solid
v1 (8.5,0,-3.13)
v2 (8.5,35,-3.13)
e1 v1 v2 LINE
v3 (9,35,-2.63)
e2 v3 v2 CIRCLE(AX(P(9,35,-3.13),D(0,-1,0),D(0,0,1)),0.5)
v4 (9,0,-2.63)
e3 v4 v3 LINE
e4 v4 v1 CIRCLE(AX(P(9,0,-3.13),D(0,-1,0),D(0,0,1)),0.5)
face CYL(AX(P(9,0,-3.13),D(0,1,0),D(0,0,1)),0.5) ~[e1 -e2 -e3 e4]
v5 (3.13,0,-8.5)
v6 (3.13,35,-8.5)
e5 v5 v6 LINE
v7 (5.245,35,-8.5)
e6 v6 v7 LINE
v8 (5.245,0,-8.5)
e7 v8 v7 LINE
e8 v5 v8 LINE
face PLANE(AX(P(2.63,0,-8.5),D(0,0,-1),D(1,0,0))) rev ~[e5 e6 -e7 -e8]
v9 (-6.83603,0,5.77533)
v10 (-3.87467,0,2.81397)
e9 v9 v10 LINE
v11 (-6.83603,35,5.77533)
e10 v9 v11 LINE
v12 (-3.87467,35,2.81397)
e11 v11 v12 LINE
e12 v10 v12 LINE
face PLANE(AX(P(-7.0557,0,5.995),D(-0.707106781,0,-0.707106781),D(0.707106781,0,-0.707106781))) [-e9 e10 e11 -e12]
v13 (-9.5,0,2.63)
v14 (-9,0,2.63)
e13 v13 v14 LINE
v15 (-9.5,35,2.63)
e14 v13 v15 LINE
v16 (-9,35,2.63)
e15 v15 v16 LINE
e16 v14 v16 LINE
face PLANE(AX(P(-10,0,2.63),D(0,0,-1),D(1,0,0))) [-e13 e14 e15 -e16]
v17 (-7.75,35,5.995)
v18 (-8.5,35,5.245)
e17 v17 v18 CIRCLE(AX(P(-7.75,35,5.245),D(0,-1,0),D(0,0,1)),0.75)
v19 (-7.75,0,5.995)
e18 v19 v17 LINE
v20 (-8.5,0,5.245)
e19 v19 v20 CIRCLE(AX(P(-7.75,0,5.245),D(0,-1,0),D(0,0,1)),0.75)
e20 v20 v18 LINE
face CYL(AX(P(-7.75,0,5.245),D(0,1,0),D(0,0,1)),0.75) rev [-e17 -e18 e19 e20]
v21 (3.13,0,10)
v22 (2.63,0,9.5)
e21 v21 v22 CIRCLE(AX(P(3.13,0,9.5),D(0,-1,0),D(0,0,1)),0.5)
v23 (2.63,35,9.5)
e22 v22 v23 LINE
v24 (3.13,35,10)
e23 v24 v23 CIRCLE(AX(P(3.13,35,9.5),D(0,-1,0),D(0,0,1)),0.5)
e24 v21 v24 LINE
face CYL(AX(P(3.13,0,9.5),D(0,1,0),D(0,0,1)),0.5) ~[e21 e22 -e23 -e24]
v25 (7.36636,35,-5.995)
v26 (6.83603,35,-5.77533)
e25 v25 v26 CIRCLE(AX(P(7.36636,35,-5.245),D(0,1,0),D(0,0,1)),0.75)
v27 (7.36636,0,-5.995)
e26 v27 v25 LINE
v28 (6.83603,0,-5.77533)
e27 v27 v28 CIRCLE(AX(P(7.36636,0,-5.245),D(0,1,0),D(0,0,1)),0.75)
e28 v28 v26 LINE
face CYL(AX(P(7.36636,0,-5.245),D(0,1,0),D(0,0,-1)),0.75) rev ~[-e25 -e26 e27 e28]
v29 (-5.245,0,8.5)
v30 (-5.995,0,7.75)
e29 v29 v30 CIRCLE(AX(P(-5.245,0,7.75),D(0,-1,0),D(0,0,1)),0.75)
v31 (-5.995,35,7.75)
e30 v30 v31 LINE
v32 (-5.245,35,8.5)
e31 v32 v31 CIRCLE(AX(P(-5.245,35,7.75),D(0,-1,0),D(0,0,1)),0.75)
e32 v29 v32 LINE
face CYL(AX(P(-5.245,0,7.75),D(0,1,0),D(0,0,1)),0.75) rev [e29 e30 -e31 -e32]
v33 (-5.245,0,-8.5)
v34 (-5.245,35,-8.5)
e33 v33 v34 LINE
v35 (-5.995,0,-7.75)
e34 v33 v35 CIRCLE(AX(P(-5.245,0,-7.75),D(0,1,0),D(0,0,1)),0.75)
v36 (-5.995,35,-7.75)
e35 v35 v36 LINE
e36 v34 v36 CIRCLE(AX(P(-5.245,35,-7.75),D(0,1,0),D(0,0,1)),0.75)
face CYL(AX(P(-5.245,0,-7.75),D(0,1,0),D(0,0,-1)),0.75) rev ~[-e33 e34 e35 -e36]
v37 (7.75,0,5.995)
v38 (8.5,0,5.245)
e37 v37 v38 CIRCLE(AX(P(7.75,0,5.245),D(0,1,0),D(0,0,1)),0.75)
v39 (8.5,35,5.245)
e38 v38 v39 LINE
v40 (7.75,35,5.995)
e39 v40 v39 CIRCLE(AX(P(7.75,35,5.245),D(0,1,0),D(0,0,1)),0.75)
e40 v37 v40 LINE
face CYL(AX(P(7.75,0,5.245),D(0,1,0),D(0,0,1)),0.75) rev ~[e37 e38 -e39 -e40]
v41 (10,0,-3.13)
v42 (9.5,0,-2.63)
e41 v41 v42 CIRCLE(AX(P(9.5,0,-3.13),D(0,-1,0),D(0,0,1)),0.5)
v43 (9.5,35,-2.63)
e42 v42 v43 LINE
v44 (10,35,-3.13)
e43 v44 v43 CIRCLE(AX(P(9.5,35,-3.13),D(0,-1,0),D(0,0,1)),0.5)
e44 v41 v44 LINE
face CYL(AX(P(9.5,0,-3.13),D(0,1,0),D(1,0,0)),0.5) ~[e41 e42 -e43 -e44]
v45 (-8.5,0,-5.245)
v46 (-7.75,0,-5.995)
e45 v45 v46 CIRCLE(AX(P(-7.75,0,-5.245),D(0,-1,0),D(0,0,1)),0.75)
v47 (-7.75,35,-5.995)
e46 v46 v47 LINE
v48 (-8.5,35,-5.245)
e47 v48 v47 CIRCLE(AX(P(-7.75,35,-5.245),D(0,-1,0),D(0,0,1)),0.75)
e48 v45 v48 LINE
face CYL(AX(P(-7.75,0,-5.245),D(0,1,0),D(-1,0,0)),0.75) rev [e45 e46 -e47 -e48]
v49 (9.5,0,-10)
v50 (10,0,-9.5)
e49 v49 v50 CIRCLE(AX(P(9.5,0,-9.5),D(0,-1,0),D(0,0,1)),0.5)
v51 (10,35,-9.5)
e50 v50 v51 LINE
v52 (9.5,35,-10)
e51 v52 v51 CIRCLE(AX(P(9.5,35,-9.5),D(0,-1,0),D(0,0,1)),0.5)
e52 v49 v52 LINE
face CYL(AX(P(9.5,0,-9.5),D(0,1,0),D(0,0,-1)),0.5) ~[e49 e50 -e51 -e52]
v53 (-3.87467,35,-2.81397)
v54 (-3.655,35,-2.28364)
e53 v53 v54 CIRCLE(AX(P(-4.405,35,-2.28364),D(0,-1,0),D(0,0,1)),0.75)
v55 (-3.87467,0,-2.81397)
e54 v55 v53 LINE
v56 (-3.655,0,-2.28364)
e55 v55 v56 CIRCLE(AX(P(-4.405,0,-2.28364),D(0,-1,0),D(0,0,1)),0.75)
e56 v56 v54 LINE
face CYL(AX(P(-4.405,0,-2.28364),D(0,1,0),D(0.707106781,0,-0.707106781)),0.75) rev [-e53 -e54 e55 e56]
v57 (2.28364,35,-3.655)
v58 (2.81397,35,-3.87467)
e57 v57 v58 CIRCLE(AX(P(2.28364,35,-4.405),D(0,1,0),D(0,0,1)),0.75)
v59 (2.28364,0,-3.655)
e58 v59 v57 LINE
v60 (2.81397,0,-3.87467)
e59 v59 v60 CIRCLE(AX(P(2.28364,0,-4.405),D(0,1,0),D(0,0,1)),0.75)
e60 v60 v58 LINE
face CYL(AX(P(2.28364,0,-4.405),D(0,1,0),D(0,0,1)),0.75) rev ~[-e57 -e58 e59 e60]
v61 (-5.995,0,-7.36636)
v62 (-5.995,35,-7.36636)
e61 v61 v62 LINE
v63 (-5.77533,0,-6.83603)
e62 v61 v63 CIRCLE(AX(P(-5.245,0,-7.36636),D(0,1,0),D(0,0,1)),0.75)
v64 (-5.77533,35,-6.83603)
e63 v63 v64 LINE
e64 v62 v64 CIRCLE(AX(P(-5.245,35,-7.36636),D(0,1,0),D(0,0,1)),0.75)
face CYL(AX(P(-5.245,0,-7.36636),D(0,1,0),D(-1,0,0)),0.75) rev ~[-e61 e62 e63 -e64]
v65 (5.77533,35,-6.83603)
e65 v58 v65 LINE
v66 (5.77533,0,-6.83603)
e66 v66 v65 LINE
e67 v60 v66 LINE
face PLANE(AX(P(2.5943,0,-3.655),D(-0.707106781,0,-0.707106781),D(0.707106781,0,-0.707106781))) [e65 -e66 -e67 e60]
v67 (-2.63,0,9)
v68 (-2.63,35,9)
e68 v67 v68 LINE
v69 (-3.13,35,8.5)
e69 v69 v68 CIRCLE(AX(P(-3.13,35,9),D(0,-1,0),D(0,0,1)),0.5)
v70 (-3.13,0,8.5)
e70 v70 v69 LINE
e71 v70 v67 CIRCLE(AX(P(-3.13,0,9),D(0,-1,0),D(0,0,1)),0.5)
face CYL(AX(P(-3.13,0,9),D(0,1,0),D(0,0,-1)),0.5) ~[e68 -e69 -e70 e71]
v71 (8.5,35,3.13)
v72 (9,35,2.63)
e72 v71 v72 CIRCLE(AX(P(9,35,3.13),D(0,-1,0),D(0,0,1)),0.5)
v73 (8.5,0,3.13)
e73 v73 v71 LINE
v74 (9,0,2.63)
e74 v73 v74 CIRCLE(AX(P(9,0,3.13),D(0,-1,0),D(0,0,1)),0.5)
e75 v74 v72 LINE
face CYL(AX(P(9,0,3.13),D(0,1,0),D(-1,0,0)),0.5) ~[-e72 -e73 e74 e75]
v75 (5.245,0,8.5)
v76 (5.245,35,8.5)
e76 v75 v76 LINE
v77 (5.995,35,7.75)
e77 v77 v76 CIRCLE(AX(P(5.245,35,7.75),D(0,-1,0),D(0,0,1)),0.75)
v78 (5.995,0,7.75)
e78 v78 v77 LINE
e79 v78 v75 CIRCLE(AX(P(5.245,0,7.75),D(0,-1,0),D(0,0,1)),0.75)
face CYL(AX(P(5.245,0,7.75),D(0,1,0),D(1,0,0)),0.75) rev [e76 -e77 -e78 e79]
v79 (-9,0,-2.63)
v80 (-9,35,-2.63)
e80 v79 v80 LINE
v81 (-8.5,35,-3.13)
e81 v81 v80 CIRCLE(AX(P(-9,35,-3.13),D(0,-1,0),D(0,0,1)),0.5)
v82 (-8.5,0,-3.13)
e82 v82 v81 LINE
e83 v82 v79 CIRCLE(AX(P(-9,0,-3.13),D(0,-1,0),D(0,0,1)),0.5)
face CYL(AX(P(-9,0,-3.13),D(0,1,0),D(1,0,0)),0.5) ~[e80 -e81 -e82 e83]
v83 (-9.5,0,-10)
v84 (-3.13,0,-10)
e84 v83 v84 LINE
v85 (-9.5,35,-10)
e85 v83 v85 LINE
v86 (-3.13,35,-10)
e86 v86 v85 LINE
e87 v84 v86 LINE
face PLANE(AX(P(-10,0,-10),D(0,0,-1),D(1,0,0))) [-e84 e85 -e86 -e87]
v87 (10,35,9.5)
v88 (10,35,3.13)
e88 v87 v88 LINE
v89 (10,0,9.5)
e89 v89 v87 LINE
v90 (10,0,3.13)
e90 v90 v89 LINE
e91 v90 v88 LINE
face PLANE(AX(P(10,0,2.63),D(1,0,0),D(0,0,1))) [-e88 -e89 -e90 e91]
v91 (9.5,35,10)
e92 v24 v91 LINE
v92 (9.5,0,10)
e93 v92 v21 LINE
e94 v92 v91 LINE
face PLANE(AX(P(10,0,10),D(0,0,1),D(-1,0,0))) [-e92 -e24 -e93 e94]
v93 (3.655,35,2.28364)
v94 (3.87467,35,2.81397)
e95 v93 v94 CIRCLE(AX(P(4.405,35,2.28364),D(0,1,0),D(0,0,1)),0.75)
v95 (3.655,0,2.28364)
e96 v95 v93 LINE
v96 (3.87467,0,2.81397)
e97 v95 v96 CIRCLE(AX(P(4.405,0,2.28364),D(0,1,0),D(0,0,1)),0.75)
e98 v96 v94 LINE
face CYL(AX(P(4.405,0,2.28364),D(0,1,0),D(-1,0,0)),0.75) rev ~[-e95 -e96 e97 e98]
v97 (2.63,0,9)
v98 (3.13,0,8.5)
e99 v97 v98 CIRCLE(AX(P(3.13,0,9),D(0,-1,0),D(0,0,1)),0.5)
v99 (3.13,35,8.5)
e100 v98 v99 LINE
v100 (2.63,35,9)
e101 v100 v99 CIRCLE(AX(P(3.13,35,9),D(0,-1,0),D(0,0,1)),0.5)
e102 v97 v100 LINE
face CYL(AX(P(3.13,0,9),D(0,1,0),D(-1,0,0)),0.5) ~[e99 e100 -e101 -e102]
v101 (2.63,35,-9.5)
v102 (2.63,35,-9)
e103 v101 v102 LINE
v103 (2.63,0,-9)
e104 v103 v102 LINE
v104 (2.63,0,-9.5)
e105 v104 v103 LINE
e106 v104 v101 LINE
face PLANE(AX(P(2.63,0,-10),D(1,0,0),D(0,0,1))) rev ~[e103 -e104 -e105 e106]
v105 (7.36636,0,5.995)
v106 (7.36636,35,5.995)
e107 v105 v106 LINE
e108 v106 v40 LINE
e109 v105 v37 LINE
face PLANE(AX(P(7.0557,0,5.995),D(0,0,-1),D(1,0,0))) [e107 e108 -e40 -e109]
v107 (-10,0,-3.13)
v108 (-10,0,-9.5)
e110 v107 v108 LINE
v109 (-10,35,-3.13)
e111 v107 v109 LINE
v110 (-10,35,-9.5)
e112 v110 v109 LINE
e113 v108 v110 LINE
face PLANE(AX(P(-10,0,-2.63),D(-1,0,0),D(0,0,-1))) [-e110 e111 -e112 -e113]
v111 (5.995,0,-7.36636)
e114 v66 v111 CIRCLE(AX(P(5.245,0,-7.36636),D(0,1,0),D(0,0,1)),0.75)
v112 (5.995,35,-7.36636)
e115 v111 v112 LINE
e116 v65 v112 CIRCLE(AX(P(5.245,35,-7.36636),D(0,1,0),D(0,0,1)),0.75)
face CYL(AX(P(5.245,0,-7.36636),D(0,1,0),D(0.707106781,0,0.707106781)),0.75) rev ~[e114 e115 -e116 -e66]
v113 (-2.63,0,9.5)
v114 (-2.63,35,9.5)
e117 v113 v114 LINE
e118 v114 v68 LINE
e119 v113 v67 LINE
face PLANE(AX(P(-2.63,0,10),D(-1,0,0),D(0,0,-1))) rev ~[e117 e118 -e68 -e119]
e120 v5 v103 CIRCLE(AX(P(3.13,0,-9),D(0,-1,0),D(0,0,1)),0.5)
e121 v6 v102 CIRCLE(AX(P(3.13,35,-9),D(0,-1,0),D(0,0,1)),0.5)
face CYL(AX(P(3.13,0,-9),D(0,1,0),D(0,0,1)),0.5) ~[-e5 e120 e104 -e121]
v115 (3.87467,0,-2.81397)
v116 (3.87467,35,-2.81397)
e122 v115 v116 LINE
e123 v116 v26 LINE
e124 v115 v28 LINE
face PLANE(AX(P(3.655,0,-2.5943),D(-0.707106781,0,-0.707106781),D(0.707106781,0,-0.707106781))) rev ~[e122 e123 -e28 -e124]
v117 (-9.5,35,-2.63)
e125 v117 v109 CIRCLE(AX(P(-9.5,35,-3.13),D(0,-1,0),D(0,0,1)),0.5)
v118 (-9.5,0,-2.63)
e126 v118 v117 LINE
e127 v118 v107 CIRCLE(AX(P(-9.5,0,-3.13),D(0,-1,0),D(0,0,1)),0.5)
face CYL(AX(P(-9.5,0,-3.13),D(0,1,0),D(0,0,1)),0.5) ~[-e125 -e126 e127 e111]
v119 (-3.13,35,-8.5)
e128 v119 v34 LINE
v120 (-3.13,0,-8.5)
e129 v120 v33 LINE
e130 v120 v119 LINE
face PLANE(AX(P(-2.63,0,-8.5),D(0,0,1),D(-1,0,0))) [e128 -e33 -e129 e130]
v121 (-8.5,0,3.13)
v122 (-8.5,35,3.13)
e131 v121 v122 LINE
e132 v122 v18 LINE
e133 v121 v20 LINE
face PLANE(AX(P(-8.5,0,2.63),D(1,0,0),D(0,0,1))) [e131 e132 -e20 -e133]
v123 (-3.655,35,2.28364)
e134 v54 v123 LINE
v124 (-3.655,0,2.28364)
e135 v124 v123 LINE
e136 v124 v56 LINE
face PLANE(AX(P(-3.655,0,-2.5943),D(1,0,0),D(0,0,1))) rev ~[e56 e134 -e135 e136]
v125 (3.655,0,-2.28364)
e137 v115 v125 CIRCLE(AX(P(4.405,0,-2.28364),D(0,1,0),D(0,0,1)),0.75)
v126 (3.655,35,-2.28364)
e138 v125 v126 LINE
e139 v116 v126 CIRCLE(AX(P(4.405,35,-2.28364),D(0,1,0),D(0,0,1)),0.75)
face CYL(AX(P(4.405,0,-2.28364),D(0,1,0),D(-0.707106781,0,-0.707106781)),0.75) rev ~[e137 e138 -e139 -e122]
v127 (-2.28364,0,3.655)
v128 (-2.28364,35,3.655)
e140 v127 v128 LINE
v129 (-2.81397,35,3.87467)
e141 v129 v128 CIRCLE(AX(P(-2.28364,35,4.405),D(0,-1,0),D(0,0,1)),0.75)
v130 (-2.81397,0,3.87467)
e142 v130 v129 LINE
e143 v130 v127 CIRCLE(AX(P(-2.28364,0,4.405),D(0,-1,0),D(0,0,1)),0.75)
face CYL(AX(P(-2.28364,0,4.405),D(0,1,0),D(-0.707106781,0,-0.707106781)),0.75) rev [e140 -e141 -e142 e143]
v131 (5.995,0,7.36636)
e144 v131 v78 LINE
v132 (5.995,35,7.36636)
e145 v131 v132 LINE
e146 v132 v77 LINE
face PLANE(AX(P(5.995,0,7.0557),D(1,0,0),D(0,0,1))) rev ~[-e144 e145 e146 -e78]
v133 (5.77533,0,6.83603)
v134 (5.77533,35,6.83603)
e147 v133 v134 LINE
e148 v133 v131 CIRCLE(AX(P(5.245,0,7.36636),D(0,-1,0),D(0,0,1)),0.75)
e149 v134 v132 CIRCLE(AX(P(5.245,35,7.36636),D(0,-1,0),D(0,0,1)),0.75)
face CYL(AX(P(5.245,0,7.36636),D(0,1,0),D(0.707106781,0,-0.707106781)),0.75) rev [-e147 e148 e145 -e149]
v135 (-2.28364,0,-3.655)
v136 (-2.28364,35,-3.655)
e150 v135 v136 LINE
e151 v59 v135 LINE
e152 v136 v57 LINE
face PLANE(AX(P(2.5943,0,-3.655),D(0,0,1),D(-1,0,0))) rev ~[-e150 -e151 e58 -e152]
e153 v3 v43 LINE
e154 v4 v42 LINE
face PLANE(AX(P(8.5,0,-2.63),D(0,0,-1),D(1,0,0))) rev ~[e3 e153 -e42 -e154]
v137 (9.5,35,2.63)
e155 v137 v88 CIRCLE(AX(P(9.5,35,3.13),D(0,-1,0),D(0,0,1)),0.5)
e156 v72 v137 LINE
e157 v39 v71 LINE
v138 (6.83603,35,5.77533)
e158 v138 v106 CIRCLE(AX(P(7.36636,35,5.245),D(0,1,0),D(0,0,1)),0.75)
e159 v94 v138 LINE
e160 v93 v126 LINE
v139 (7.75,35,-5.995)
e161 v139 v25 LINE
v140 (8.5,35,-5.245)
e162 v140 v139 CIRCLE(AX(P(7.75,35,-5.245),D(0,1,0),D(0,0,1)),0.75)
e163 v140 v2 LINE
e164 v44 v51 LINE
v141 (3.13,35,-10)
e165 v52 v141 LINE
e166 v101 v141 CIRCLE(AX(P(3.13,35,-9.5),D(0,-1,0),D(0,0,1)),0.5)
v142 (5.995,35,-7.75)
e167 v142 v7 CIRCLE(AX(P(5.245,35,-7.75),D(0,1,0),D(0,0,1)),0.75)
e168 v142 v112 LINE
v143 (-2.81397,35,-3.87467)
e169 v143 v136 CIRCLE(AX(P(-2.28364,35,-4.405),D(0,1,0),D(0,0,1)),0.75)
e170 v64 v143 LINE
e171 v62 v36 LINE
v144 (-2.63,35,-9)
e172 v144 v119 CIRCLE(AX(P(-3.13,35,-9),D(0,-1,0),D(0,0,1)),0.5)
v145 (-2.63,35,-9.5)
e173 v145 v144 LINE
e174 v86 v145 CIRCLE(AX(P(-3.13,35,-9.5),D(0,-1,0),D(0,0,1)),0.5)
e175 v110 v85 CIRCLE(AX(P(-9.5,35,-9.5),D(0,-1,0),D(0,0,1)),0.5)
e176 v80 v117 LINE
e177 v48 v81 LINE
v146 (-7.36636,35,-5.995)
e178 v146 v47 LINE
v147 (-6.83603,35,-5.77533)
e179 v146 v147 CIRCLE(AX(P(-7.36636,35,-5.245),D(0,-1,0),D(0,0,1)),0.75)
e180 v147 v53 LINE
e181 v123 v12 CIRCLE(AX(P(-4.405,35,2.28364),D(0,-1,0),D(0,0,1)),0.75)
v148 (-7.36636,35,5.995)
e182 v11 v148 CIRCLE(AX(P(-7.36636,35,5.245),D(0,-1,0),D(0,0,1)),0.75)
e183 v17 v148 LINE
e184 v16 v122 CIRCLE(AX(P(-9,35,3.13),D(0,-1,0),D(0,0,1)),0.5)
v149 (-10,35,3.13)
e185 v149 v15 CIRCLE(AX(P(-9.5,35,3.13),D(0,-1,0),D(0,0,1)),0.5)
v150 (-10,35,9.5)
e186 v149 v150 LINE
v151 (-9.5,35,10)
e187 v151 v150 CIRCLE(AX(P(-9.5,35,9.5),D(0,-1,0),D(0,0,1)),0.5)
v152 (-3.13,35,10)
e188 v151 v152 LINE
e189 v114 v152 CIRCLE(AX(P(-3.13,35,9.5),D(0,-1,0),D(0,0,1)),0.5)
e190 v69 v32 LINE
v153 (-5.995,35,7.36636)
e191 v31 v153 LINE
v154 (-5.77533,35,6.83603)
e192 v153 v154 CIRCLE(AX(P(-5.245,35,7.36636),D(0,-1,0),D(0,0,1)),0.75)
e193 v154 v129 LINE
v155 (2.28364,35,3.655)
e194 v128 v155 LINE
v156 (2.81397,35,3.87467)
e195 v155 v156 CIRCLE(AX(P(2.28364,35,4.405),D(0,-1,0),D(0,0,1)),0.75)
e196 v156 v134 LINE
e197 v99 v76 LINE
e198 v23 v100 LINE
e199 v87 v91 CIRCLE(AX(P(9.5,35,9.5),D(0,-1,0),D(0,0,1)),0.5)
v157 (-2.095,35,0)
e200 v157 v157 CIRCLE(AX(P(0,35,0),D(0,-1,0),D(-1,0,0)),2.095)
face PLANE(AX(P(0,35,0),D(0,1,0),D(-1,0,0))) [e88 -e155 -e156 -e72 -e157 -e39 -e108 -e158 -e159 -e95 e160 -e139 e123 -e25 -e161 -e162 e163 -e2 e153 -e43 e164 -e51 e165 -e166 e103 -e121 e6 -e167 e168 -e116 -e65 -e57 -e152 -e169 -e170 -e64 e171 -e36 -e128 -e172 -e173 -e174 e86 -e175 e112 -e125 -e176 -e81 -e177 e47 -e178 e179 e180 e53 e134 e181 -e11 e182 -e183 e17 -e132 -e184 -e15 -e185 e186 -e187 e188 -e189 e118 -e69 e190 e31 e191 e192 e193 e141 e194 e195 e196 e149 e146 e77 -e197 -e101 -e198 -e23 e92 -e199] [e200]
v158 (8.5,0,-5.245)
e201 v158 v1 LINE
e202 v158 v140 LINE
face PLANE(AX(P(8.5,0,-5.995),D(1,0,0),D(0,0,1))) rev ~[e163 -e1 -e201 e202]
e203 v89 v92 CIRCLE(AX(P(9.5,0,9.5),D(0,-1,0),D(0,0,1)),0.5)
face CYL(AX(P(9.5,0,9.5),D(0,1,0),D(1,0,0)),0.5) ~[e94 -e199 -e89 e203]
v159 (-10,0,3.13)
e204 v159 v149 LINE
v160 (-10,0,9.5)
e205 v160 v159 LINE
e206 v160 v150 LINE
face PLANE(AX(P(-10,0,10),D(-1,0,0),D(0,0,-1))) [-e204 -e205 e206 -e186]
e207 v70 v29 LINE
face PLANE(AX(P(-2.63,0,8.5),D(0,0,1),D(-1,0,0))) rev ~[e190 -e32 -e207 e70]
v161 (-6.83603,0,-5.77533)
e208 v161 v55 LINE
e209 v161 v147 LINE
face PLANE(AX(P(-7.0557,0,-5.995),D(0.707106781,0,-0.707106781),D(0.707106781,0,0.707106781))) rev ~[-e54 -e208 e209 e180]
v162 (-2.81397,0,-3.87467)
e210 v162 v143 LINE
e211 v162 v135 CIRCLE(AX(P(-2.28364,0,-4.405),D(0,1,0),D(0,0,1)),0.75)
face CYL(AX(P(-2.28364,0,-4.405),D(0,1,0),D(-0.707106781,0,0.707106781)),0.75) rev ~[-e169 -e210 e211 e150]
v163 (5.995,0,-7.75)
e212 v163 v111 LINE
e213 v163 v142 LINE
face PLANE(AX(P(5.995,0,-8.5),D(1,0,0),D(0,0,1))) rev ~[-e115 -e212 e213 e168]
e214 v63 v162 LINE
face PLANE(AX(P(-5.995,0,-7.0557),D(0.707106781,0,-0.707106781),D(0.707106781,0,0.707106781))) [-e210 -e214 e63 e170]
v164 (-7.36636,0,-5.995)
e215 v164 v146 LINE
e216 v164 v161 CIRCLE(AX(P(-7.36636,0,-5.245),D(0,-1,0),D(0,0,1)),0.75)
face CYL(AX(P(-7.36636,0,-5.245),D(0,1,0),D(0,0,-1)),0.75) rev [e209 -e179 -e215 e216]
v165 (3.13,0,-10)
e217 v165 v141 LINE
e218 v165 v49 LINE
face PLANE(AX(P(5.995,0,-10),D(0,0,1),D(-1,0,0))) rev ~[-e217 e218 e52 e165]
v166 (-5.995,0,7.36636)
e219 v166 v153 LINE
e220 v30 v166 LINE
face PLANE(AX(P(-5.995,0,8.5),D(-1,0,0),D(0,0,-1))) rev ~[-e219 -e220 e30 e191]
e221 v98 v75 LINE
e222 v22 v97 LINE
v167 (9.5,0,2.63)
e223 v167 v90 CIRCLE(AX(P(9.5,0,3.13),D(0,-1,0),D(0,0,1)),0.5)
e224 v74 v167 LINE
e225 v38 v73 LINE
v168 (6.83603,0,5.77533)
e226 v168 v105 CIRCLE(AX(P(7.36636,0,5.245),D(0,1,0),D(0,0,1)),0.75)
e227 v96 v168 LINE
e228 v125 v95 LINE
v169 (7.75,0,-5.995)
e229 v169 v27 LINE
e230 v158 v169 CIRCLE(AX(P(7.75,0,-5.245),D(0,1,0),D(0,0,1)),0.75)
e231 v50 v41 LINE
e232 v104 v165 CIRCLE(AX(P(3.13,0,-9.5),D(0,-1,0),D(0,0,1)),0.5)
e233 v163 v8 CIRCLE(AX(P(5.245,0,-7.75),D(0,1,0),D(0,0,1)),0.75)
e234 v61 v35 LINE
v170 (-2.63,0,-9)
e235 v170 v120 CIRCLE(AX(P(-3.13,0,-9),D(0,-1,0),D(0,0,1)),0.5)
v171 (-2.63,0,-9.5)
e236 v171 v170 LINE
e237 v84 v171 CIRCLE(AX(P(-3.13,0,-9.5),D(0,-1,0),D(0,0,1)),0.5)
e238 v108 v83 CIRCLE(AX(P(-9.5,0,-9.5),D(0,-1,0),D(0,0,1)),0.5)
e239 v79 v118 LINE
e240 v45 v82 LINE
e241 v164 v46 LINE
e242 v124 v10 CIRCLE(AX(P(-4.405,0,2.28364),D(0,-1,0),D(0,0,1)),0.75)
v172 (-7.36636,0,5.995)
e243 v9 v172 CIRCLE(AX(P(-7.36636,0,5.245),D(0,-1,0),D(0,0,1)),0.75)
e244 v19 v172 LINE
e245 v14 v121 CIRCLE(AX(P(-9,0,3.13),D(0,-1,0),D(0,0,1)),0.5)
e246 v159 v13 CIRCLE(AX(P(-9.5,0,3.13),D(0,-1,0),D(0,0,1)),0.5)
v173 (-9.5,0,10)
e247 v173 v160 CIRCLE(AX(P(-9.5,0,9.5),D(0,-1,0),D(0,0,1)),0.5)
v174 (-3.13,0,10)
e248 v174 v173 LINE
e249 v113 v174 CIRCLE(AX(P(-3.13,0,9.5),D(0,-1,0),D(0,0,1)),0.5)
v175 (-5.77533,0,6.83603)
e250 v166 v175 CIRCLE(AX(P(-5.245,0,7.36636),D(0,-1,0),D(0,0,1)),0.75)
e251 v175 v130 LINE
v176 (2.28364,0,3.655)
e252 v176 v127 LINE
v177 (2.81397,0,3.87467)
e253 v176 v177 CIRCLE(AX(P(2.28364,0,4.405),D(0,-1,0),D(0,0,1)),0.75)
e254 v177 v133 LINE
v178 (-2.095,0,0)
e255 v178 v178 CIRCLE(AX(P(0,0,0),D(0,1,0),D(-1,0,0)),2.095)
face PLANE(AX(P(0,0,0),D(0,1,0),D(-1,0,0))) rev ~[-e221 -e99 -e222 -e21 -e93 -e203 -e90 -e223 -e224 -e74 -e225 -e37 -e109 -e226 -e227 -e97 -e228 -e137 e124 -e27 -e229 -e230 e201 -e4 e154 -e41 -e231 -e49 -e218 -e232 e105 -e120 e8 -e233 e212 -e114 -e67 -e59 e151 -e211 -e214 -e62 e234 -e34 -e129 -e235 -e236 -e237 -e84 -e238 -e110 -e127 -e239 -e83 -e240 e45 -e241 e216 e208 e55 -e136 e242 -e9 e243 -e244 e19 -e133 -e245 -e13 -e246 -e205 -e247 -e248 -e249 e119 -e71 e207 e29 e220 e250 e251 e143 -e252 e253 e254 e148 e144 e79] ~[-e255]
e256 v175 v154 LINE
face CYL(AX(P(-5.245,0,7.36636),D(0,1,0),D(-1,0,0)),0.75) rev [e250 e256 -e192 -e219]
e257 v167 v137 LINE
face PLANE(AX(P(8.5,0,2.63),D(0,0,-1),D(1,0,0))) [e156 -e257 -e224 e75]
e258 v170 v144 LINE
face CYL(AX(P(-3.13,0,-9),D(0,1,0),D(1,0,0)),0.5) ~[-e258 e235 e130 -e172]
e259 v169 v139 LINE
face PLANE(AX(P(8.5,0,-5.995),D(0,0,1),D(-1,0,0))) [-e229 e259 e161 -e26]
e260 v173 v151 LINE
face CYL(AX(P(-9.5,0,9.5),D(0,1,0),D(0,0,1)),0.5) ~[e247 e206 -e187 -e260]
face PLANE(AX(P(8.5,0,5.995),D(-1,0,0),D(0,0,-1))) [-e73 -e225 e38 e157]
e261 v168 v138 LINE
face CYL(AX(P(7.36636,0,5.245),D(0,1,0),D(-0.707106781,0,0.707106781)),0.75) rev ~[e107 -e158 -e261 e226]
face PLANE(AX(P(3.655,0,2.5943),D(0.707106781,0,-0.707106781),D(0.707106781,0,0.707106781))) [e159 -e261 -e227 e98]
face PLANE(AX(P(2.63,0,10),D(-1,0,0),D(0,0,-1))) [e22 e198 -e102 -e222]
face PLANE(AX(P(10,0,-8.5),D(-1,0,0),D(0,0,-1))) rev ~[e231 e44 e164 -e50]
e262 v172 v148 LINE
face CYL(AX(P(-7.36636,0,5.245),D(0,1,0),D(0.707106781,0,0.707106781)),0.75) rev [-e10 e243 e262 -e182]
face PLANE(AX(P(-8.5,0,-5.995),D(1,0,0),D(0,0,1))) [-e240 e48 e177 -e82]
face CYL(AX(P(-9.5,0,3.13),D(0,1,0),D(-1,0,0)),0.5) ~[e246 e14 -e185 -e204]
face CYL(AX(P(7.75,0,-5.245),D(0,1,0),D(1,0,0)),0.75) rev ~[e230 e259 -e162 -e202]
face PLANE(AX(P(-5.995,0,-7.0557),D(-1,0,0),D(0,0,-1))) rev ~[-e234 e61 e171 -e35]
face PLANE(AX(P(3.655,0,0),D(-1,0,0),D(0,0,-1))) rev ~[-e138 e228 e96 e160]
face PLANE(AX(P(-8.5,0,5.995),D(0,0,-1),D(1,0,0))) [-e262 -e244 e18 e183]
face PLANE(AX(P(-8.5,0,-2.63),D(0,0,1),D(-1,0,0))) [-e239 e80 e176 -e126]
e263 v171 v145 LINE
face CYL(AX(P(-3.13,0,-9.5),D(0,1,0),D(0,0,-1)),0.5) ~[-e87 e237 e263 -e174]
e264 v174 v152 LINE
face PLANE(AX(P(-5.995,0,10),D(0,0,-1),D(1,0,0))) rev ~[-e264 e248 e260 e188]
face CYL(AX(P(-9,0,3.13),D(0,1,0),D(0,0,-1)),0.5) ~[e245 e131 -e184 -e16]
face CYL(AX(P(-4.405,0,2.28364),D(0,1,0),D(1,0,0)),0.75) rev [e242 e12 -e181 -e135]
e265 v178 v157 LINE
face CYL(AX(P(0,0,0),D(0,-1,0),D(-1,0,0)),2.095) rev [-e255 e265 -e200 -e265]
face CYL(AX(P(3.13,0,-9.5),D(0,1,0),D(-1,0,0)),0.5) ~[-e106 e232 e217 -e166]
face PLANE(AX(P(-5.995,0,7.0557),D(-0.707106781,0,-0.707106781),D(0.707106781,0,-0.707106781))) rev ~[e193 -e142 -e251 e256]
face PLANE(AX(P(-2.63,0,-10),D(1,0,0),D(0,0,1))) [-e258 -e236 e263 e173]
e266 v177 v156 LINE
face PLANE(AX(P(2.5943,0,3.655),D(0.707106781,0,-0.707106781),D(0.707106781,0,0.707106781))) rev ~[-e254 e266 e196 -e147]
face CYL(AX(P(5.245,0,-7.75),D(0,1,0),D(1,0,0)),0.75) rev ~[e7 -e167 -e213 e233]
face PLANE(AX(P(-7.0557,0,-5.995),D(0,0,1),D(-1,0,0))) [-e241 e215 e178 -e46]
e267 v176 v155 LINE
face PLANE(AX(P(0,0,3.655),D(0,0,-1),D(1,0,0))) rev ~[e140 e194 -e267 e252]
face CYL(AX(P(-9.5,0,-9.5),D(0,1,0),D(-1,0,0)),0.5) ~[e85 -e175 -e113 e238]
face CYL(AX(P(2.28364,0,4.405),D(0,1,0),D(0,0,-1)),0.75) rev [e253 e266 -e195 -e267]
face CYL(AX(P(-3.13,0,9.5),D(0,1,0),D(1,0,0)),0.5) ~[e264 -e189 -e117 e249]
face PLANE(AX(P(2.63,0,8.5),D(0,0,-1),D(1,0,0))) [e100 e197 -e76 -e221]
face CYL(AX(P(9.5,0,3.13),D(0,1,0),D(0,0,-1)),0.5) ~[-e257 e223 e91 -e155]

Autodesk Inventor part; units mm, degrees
ref_plane "YZ Plane" through (0, 0, 0) normal (1, 0, 0) x (0, 1, 0)
ref_plane "XZ Plane" through (0, 0, 0) normal (0, 1, 0) x (-1, 0, 0)
ref_plane "XY Plane" through (0, 0, 0) normal (0, 0, 1) x (1, 0, 0)
sketch "Sketch1" plane through (0, 0, 0) normal (0, 1, 0) x (-1, 0, 0)
  line L0 (0, -14) -> (0, 14) projected
  line L1 (-14, 0) -> (14, 0) projected
  line L2 (14, 0) -> (-14, 0) projected
  line L3 (0, -14) -> (0, 14) projected
  line L4 (2.5943, 3.655) -> (-2.5943, 3.655)
  line L5 (-3.655, 2.5943) -> (-3.655, -2.5943)
  line L6 (-2.5943, -3.655) -> (2.5943, -3.655)
  line L7 (3.655, -2.5943) -> (3.655, 2.5943)
  line L8 (-3.655, 3.655) -> (3.655, -3.655) construction
  line L9 (10, 10) -> (10, 2.63)
  line L10 (10, 2.63) -> (8.5, 2.63)
  line L11 (10, 10) -> (2.63, 10)
  line L12 (2.63, 10) -> (2.63, 8.5)
  line L13 (-10, 10) -> (-2.63, 10)
  line L14 (-2.63, 10) -> (-2.63, 8.5)
  line L15 (-10, 8.5) -> (-10, 10)
  line L16 (-10, 10) -> (-8.5, 10)
  line L17 (-8.5, 2.63) -> (-10, 2.63)
  line L18 (-10, 2.63) -> (-10, 10)
  line L19 (-10, -10) -> (-8.5, -10)
  line L20 (-8.5, -2.63) -> (-10, -2.63)
  line L21 (-10, -2.63) -> (-10, -10)
  line L22 (-10, -10) -> (-2.63, -10)
  line L23 (-2.63, -10) -> (-2.63, -8.5)
  line L24 (-10, -8.5) -> (-10, -10)
  line L25 (10, -10) -> (8.5, -10)
  line L26 (8.5, -2.63) -> (10, -2.63)
  line L27 (10, -2.63) -> (10, -10)
  line L28 (10, -10) -> (2.63, -10)
  line L29 (2.63, -10) -> (2.63, -8.5)
  line L30 (10, -8.5) -> (10, -10)
  circle A0 centre (0, 0) radius 2.095
  line L31 (5.995, -10) -> (2.63, -10)
  line L32 (-2.63, -10) -> (-5.995, -10)
  line L33 (10, -10) -> (2.63, -10)
  line L34 (-2.63, -10) -> (-10, -10)
  line L35 (10, -5.995) -> (10, -2.63)
  line L36 (10, 2.63) -> (10, 5.995)
  line L37 (10, 10) -> (10, 2.63)
  line L38 (10, -2.63) -> (10, -10)
  line L39 (-5.995, 10) -> (-2.63, 10)
  line L40 (2.63, 10) -> (5.995, 10)
  line L41 (-10, 10) -> (-2.63, 10)
  line L42 (2.63, 10) -> (10, 10)
  line L43 (-10, 5.995) -> (-10, 2.63)
  line L44 (-10, -2.63) -> (-10, -5.995)
  line L45 (-10, -10) -> (-10, -2.63)
  line L46 (-10, 2.63) -> (-10, 10)
  line L47 (-2.63, -8.5) -> (-5.995, -8.5)
  line L48 (-8.5, -5.995) -> (-8.5, -2.63)
  line L49 (-8.5, -5.995) -> (-7.0557, -5.995)
  line L50 (-5.995, -8.5) -> (-5.995, -7.0557)
  line L51 (-5.995, 7.0557) -> (-5.995, 8.5)
  line L52 (2.63, 8.5) -> (5.995, 8.5)
  line L53 (8.5, 2.63) -> (8.5, 5.995)
  line L54 (8.5, 5.995) -> (7.0557, 5.995)
  line L55 (5.995, 8.5) -> (5.995, 7.0557)
  line L56 (2.63, -8.5) -> (5.995, -8.5)
  line L57 (9.5607, -8.5) -> (10, -8.5)
  line L58 (8.5, -10) -> (8.5, -9.5607)
  line L59 (8.5, -5.995) -> (8.5, -2.63)
  line L60 (7.0557, -5.995) -> (8.5, -5.995)
  line L61 (5.995, -7.0557) -> (5.995, -8.5)
  line L62 (3.655, 3.655) -> (-0.5303, -0.5303) construction
  line L63 (-1.4814, -1.4814) -> (-3.655, -3.655) construction
  line L64 (-8.5, 10) -> (-8.5, 9.5607)
  line L65 (-8.5, 5.995) -> (-8.5, 2.63)
  line L66 (-2.63, 8.5) -> (-5.995, 8.5)
  line L67 (-9.5607, 8.5) -> (-10, 8.5)
  line L68 (-7.0557, 5.995) -> (-8.5, 5.995)
  line L69 (-3.655, 2.5943) -> (-7.0557, 5.995)
  line L70 (-2.5943, 3.655) -> (-5.995, 7.0557)
  line L71 (5.995, 7.0557) -> (2.5943, 3.655)
  line L72 (7.0557, 5.995) -> (3.655, 2.5943)
  line L73 (7.0557, -5.995) -> (3.655, -2.5943)
  line L74 (5.995, -7.0557) -> (2.5943, -3.655)
  line L75 (-2.5943, -3.655) -> (-5.995, -7.0557)
  line L76 (-3.655, -2.5943) -> (-7.0557, -5.995)
  dimension "d26" = 4.19
  dimension "d0" = 20
  dimension "d1" = 20
  dimension "d2" = 7.31
  dimension "d3" = 7.31
  dimension "d4" = 20
  dimension "d5" = 11.99
  dimension "d6" = 11.99
  dimension "d11" = 7.37
  dimension "d12" = 1.5
  dimension "d13" = 7.37
  dimension "d14" = 1.5
  dimension "d15" = 7.37
  dimension "d16" = 1.5
  dimension "d17" = 7.37
  dimension "d18" = 1.5
  dimension "d19" = 7.37
  dimension "d20" = 7.37
  dimension "d21" = 1.5
  dimension "d22" = 1.5
  dimension "d23" = 7.37
  dimension "d24" = 7.37
  dimension "d25" = 1.5
extrude "Extrusion1" add sketch "Sketch1" along normal blind 35 contours L6 L75 L50 L47 L23 L22 L19 L21 L20 L48 L49 L76 L5 L1 A0 L0 | L0 A0 L1 L7 L73 L60 L59 L26 L27 L25 L28 L29 L56 L61 L74 L6 | L1 L5 L69 L68 L65 L17 L18 L15 L13 L14 L66 L51 L70 L4 L0 A0 | A0 L0 L4 L71 L55 L52 L12 L11 L9 L10 L53 L54 L72 L7 L1
fillet "Fillet1" radius 0.5 20 edges at (10, 17.5, 10) (2.63, 17.5, 10) (-2.63, 17.5, 10) (-2.63, 17.5, 8.5) (10, 17.5, 2.63) (8.5, 17.5, 2.63) (10, 17.5, -2.63) (8.5, 17.5, -2.63) (10, 17.5, -10) (2.63, 17.5, -8.5) (-2.63, 17.5, -10) (-2.63, 17.5, -8.5) (2.63, 17.5, -10) (-10, 17.5, -10) (-8.5, 17.5, -2.63) (-10, 17.5, -2.63) (-8.5, 17.5, 2.63) (-10, 17.5, 2.63) (-10, 17.5, 10) (2.63, 17.5, 8.5)
fillet "Fillet2" radius 0.75 24 edges at (-7.0557, 17.5, 5.995) (-3.655, 17.5, 2.5943) (-8.5, 17.5, -5.995) (-7.0557, 17.5, -5.995) (-5.995, 17.5, -8.5) (3.655, 17.5, -2.5943) (7.0557, 17.5, -5.995) (-2.5943, 17.5, 3.655) (-5.995, 17.5, 7.0557) (3.655, 17.5, 2.5943) (7.0557, 17.5, 5.995) (8.5, 17.5, 5.995) (8.5, 17.5, -5.995) (2.5943, 17.5, 3.655) (5.995, 17.5, 7.0557) (5.995, 17.5, 8.5) (-5.995, 17.5, 8.5) (-8.5, 17.5, 5.995) (2.5943, 17.5, -3.655) (5.995, 17.5, -7.0557) (5.995, 17.5, -8.5) (-5.995, 17.5, -7.0557) (-2.5943, 17.5, -3.655) (-3.655, 17.5, -2.5943)
properties part number "pro35mm"
